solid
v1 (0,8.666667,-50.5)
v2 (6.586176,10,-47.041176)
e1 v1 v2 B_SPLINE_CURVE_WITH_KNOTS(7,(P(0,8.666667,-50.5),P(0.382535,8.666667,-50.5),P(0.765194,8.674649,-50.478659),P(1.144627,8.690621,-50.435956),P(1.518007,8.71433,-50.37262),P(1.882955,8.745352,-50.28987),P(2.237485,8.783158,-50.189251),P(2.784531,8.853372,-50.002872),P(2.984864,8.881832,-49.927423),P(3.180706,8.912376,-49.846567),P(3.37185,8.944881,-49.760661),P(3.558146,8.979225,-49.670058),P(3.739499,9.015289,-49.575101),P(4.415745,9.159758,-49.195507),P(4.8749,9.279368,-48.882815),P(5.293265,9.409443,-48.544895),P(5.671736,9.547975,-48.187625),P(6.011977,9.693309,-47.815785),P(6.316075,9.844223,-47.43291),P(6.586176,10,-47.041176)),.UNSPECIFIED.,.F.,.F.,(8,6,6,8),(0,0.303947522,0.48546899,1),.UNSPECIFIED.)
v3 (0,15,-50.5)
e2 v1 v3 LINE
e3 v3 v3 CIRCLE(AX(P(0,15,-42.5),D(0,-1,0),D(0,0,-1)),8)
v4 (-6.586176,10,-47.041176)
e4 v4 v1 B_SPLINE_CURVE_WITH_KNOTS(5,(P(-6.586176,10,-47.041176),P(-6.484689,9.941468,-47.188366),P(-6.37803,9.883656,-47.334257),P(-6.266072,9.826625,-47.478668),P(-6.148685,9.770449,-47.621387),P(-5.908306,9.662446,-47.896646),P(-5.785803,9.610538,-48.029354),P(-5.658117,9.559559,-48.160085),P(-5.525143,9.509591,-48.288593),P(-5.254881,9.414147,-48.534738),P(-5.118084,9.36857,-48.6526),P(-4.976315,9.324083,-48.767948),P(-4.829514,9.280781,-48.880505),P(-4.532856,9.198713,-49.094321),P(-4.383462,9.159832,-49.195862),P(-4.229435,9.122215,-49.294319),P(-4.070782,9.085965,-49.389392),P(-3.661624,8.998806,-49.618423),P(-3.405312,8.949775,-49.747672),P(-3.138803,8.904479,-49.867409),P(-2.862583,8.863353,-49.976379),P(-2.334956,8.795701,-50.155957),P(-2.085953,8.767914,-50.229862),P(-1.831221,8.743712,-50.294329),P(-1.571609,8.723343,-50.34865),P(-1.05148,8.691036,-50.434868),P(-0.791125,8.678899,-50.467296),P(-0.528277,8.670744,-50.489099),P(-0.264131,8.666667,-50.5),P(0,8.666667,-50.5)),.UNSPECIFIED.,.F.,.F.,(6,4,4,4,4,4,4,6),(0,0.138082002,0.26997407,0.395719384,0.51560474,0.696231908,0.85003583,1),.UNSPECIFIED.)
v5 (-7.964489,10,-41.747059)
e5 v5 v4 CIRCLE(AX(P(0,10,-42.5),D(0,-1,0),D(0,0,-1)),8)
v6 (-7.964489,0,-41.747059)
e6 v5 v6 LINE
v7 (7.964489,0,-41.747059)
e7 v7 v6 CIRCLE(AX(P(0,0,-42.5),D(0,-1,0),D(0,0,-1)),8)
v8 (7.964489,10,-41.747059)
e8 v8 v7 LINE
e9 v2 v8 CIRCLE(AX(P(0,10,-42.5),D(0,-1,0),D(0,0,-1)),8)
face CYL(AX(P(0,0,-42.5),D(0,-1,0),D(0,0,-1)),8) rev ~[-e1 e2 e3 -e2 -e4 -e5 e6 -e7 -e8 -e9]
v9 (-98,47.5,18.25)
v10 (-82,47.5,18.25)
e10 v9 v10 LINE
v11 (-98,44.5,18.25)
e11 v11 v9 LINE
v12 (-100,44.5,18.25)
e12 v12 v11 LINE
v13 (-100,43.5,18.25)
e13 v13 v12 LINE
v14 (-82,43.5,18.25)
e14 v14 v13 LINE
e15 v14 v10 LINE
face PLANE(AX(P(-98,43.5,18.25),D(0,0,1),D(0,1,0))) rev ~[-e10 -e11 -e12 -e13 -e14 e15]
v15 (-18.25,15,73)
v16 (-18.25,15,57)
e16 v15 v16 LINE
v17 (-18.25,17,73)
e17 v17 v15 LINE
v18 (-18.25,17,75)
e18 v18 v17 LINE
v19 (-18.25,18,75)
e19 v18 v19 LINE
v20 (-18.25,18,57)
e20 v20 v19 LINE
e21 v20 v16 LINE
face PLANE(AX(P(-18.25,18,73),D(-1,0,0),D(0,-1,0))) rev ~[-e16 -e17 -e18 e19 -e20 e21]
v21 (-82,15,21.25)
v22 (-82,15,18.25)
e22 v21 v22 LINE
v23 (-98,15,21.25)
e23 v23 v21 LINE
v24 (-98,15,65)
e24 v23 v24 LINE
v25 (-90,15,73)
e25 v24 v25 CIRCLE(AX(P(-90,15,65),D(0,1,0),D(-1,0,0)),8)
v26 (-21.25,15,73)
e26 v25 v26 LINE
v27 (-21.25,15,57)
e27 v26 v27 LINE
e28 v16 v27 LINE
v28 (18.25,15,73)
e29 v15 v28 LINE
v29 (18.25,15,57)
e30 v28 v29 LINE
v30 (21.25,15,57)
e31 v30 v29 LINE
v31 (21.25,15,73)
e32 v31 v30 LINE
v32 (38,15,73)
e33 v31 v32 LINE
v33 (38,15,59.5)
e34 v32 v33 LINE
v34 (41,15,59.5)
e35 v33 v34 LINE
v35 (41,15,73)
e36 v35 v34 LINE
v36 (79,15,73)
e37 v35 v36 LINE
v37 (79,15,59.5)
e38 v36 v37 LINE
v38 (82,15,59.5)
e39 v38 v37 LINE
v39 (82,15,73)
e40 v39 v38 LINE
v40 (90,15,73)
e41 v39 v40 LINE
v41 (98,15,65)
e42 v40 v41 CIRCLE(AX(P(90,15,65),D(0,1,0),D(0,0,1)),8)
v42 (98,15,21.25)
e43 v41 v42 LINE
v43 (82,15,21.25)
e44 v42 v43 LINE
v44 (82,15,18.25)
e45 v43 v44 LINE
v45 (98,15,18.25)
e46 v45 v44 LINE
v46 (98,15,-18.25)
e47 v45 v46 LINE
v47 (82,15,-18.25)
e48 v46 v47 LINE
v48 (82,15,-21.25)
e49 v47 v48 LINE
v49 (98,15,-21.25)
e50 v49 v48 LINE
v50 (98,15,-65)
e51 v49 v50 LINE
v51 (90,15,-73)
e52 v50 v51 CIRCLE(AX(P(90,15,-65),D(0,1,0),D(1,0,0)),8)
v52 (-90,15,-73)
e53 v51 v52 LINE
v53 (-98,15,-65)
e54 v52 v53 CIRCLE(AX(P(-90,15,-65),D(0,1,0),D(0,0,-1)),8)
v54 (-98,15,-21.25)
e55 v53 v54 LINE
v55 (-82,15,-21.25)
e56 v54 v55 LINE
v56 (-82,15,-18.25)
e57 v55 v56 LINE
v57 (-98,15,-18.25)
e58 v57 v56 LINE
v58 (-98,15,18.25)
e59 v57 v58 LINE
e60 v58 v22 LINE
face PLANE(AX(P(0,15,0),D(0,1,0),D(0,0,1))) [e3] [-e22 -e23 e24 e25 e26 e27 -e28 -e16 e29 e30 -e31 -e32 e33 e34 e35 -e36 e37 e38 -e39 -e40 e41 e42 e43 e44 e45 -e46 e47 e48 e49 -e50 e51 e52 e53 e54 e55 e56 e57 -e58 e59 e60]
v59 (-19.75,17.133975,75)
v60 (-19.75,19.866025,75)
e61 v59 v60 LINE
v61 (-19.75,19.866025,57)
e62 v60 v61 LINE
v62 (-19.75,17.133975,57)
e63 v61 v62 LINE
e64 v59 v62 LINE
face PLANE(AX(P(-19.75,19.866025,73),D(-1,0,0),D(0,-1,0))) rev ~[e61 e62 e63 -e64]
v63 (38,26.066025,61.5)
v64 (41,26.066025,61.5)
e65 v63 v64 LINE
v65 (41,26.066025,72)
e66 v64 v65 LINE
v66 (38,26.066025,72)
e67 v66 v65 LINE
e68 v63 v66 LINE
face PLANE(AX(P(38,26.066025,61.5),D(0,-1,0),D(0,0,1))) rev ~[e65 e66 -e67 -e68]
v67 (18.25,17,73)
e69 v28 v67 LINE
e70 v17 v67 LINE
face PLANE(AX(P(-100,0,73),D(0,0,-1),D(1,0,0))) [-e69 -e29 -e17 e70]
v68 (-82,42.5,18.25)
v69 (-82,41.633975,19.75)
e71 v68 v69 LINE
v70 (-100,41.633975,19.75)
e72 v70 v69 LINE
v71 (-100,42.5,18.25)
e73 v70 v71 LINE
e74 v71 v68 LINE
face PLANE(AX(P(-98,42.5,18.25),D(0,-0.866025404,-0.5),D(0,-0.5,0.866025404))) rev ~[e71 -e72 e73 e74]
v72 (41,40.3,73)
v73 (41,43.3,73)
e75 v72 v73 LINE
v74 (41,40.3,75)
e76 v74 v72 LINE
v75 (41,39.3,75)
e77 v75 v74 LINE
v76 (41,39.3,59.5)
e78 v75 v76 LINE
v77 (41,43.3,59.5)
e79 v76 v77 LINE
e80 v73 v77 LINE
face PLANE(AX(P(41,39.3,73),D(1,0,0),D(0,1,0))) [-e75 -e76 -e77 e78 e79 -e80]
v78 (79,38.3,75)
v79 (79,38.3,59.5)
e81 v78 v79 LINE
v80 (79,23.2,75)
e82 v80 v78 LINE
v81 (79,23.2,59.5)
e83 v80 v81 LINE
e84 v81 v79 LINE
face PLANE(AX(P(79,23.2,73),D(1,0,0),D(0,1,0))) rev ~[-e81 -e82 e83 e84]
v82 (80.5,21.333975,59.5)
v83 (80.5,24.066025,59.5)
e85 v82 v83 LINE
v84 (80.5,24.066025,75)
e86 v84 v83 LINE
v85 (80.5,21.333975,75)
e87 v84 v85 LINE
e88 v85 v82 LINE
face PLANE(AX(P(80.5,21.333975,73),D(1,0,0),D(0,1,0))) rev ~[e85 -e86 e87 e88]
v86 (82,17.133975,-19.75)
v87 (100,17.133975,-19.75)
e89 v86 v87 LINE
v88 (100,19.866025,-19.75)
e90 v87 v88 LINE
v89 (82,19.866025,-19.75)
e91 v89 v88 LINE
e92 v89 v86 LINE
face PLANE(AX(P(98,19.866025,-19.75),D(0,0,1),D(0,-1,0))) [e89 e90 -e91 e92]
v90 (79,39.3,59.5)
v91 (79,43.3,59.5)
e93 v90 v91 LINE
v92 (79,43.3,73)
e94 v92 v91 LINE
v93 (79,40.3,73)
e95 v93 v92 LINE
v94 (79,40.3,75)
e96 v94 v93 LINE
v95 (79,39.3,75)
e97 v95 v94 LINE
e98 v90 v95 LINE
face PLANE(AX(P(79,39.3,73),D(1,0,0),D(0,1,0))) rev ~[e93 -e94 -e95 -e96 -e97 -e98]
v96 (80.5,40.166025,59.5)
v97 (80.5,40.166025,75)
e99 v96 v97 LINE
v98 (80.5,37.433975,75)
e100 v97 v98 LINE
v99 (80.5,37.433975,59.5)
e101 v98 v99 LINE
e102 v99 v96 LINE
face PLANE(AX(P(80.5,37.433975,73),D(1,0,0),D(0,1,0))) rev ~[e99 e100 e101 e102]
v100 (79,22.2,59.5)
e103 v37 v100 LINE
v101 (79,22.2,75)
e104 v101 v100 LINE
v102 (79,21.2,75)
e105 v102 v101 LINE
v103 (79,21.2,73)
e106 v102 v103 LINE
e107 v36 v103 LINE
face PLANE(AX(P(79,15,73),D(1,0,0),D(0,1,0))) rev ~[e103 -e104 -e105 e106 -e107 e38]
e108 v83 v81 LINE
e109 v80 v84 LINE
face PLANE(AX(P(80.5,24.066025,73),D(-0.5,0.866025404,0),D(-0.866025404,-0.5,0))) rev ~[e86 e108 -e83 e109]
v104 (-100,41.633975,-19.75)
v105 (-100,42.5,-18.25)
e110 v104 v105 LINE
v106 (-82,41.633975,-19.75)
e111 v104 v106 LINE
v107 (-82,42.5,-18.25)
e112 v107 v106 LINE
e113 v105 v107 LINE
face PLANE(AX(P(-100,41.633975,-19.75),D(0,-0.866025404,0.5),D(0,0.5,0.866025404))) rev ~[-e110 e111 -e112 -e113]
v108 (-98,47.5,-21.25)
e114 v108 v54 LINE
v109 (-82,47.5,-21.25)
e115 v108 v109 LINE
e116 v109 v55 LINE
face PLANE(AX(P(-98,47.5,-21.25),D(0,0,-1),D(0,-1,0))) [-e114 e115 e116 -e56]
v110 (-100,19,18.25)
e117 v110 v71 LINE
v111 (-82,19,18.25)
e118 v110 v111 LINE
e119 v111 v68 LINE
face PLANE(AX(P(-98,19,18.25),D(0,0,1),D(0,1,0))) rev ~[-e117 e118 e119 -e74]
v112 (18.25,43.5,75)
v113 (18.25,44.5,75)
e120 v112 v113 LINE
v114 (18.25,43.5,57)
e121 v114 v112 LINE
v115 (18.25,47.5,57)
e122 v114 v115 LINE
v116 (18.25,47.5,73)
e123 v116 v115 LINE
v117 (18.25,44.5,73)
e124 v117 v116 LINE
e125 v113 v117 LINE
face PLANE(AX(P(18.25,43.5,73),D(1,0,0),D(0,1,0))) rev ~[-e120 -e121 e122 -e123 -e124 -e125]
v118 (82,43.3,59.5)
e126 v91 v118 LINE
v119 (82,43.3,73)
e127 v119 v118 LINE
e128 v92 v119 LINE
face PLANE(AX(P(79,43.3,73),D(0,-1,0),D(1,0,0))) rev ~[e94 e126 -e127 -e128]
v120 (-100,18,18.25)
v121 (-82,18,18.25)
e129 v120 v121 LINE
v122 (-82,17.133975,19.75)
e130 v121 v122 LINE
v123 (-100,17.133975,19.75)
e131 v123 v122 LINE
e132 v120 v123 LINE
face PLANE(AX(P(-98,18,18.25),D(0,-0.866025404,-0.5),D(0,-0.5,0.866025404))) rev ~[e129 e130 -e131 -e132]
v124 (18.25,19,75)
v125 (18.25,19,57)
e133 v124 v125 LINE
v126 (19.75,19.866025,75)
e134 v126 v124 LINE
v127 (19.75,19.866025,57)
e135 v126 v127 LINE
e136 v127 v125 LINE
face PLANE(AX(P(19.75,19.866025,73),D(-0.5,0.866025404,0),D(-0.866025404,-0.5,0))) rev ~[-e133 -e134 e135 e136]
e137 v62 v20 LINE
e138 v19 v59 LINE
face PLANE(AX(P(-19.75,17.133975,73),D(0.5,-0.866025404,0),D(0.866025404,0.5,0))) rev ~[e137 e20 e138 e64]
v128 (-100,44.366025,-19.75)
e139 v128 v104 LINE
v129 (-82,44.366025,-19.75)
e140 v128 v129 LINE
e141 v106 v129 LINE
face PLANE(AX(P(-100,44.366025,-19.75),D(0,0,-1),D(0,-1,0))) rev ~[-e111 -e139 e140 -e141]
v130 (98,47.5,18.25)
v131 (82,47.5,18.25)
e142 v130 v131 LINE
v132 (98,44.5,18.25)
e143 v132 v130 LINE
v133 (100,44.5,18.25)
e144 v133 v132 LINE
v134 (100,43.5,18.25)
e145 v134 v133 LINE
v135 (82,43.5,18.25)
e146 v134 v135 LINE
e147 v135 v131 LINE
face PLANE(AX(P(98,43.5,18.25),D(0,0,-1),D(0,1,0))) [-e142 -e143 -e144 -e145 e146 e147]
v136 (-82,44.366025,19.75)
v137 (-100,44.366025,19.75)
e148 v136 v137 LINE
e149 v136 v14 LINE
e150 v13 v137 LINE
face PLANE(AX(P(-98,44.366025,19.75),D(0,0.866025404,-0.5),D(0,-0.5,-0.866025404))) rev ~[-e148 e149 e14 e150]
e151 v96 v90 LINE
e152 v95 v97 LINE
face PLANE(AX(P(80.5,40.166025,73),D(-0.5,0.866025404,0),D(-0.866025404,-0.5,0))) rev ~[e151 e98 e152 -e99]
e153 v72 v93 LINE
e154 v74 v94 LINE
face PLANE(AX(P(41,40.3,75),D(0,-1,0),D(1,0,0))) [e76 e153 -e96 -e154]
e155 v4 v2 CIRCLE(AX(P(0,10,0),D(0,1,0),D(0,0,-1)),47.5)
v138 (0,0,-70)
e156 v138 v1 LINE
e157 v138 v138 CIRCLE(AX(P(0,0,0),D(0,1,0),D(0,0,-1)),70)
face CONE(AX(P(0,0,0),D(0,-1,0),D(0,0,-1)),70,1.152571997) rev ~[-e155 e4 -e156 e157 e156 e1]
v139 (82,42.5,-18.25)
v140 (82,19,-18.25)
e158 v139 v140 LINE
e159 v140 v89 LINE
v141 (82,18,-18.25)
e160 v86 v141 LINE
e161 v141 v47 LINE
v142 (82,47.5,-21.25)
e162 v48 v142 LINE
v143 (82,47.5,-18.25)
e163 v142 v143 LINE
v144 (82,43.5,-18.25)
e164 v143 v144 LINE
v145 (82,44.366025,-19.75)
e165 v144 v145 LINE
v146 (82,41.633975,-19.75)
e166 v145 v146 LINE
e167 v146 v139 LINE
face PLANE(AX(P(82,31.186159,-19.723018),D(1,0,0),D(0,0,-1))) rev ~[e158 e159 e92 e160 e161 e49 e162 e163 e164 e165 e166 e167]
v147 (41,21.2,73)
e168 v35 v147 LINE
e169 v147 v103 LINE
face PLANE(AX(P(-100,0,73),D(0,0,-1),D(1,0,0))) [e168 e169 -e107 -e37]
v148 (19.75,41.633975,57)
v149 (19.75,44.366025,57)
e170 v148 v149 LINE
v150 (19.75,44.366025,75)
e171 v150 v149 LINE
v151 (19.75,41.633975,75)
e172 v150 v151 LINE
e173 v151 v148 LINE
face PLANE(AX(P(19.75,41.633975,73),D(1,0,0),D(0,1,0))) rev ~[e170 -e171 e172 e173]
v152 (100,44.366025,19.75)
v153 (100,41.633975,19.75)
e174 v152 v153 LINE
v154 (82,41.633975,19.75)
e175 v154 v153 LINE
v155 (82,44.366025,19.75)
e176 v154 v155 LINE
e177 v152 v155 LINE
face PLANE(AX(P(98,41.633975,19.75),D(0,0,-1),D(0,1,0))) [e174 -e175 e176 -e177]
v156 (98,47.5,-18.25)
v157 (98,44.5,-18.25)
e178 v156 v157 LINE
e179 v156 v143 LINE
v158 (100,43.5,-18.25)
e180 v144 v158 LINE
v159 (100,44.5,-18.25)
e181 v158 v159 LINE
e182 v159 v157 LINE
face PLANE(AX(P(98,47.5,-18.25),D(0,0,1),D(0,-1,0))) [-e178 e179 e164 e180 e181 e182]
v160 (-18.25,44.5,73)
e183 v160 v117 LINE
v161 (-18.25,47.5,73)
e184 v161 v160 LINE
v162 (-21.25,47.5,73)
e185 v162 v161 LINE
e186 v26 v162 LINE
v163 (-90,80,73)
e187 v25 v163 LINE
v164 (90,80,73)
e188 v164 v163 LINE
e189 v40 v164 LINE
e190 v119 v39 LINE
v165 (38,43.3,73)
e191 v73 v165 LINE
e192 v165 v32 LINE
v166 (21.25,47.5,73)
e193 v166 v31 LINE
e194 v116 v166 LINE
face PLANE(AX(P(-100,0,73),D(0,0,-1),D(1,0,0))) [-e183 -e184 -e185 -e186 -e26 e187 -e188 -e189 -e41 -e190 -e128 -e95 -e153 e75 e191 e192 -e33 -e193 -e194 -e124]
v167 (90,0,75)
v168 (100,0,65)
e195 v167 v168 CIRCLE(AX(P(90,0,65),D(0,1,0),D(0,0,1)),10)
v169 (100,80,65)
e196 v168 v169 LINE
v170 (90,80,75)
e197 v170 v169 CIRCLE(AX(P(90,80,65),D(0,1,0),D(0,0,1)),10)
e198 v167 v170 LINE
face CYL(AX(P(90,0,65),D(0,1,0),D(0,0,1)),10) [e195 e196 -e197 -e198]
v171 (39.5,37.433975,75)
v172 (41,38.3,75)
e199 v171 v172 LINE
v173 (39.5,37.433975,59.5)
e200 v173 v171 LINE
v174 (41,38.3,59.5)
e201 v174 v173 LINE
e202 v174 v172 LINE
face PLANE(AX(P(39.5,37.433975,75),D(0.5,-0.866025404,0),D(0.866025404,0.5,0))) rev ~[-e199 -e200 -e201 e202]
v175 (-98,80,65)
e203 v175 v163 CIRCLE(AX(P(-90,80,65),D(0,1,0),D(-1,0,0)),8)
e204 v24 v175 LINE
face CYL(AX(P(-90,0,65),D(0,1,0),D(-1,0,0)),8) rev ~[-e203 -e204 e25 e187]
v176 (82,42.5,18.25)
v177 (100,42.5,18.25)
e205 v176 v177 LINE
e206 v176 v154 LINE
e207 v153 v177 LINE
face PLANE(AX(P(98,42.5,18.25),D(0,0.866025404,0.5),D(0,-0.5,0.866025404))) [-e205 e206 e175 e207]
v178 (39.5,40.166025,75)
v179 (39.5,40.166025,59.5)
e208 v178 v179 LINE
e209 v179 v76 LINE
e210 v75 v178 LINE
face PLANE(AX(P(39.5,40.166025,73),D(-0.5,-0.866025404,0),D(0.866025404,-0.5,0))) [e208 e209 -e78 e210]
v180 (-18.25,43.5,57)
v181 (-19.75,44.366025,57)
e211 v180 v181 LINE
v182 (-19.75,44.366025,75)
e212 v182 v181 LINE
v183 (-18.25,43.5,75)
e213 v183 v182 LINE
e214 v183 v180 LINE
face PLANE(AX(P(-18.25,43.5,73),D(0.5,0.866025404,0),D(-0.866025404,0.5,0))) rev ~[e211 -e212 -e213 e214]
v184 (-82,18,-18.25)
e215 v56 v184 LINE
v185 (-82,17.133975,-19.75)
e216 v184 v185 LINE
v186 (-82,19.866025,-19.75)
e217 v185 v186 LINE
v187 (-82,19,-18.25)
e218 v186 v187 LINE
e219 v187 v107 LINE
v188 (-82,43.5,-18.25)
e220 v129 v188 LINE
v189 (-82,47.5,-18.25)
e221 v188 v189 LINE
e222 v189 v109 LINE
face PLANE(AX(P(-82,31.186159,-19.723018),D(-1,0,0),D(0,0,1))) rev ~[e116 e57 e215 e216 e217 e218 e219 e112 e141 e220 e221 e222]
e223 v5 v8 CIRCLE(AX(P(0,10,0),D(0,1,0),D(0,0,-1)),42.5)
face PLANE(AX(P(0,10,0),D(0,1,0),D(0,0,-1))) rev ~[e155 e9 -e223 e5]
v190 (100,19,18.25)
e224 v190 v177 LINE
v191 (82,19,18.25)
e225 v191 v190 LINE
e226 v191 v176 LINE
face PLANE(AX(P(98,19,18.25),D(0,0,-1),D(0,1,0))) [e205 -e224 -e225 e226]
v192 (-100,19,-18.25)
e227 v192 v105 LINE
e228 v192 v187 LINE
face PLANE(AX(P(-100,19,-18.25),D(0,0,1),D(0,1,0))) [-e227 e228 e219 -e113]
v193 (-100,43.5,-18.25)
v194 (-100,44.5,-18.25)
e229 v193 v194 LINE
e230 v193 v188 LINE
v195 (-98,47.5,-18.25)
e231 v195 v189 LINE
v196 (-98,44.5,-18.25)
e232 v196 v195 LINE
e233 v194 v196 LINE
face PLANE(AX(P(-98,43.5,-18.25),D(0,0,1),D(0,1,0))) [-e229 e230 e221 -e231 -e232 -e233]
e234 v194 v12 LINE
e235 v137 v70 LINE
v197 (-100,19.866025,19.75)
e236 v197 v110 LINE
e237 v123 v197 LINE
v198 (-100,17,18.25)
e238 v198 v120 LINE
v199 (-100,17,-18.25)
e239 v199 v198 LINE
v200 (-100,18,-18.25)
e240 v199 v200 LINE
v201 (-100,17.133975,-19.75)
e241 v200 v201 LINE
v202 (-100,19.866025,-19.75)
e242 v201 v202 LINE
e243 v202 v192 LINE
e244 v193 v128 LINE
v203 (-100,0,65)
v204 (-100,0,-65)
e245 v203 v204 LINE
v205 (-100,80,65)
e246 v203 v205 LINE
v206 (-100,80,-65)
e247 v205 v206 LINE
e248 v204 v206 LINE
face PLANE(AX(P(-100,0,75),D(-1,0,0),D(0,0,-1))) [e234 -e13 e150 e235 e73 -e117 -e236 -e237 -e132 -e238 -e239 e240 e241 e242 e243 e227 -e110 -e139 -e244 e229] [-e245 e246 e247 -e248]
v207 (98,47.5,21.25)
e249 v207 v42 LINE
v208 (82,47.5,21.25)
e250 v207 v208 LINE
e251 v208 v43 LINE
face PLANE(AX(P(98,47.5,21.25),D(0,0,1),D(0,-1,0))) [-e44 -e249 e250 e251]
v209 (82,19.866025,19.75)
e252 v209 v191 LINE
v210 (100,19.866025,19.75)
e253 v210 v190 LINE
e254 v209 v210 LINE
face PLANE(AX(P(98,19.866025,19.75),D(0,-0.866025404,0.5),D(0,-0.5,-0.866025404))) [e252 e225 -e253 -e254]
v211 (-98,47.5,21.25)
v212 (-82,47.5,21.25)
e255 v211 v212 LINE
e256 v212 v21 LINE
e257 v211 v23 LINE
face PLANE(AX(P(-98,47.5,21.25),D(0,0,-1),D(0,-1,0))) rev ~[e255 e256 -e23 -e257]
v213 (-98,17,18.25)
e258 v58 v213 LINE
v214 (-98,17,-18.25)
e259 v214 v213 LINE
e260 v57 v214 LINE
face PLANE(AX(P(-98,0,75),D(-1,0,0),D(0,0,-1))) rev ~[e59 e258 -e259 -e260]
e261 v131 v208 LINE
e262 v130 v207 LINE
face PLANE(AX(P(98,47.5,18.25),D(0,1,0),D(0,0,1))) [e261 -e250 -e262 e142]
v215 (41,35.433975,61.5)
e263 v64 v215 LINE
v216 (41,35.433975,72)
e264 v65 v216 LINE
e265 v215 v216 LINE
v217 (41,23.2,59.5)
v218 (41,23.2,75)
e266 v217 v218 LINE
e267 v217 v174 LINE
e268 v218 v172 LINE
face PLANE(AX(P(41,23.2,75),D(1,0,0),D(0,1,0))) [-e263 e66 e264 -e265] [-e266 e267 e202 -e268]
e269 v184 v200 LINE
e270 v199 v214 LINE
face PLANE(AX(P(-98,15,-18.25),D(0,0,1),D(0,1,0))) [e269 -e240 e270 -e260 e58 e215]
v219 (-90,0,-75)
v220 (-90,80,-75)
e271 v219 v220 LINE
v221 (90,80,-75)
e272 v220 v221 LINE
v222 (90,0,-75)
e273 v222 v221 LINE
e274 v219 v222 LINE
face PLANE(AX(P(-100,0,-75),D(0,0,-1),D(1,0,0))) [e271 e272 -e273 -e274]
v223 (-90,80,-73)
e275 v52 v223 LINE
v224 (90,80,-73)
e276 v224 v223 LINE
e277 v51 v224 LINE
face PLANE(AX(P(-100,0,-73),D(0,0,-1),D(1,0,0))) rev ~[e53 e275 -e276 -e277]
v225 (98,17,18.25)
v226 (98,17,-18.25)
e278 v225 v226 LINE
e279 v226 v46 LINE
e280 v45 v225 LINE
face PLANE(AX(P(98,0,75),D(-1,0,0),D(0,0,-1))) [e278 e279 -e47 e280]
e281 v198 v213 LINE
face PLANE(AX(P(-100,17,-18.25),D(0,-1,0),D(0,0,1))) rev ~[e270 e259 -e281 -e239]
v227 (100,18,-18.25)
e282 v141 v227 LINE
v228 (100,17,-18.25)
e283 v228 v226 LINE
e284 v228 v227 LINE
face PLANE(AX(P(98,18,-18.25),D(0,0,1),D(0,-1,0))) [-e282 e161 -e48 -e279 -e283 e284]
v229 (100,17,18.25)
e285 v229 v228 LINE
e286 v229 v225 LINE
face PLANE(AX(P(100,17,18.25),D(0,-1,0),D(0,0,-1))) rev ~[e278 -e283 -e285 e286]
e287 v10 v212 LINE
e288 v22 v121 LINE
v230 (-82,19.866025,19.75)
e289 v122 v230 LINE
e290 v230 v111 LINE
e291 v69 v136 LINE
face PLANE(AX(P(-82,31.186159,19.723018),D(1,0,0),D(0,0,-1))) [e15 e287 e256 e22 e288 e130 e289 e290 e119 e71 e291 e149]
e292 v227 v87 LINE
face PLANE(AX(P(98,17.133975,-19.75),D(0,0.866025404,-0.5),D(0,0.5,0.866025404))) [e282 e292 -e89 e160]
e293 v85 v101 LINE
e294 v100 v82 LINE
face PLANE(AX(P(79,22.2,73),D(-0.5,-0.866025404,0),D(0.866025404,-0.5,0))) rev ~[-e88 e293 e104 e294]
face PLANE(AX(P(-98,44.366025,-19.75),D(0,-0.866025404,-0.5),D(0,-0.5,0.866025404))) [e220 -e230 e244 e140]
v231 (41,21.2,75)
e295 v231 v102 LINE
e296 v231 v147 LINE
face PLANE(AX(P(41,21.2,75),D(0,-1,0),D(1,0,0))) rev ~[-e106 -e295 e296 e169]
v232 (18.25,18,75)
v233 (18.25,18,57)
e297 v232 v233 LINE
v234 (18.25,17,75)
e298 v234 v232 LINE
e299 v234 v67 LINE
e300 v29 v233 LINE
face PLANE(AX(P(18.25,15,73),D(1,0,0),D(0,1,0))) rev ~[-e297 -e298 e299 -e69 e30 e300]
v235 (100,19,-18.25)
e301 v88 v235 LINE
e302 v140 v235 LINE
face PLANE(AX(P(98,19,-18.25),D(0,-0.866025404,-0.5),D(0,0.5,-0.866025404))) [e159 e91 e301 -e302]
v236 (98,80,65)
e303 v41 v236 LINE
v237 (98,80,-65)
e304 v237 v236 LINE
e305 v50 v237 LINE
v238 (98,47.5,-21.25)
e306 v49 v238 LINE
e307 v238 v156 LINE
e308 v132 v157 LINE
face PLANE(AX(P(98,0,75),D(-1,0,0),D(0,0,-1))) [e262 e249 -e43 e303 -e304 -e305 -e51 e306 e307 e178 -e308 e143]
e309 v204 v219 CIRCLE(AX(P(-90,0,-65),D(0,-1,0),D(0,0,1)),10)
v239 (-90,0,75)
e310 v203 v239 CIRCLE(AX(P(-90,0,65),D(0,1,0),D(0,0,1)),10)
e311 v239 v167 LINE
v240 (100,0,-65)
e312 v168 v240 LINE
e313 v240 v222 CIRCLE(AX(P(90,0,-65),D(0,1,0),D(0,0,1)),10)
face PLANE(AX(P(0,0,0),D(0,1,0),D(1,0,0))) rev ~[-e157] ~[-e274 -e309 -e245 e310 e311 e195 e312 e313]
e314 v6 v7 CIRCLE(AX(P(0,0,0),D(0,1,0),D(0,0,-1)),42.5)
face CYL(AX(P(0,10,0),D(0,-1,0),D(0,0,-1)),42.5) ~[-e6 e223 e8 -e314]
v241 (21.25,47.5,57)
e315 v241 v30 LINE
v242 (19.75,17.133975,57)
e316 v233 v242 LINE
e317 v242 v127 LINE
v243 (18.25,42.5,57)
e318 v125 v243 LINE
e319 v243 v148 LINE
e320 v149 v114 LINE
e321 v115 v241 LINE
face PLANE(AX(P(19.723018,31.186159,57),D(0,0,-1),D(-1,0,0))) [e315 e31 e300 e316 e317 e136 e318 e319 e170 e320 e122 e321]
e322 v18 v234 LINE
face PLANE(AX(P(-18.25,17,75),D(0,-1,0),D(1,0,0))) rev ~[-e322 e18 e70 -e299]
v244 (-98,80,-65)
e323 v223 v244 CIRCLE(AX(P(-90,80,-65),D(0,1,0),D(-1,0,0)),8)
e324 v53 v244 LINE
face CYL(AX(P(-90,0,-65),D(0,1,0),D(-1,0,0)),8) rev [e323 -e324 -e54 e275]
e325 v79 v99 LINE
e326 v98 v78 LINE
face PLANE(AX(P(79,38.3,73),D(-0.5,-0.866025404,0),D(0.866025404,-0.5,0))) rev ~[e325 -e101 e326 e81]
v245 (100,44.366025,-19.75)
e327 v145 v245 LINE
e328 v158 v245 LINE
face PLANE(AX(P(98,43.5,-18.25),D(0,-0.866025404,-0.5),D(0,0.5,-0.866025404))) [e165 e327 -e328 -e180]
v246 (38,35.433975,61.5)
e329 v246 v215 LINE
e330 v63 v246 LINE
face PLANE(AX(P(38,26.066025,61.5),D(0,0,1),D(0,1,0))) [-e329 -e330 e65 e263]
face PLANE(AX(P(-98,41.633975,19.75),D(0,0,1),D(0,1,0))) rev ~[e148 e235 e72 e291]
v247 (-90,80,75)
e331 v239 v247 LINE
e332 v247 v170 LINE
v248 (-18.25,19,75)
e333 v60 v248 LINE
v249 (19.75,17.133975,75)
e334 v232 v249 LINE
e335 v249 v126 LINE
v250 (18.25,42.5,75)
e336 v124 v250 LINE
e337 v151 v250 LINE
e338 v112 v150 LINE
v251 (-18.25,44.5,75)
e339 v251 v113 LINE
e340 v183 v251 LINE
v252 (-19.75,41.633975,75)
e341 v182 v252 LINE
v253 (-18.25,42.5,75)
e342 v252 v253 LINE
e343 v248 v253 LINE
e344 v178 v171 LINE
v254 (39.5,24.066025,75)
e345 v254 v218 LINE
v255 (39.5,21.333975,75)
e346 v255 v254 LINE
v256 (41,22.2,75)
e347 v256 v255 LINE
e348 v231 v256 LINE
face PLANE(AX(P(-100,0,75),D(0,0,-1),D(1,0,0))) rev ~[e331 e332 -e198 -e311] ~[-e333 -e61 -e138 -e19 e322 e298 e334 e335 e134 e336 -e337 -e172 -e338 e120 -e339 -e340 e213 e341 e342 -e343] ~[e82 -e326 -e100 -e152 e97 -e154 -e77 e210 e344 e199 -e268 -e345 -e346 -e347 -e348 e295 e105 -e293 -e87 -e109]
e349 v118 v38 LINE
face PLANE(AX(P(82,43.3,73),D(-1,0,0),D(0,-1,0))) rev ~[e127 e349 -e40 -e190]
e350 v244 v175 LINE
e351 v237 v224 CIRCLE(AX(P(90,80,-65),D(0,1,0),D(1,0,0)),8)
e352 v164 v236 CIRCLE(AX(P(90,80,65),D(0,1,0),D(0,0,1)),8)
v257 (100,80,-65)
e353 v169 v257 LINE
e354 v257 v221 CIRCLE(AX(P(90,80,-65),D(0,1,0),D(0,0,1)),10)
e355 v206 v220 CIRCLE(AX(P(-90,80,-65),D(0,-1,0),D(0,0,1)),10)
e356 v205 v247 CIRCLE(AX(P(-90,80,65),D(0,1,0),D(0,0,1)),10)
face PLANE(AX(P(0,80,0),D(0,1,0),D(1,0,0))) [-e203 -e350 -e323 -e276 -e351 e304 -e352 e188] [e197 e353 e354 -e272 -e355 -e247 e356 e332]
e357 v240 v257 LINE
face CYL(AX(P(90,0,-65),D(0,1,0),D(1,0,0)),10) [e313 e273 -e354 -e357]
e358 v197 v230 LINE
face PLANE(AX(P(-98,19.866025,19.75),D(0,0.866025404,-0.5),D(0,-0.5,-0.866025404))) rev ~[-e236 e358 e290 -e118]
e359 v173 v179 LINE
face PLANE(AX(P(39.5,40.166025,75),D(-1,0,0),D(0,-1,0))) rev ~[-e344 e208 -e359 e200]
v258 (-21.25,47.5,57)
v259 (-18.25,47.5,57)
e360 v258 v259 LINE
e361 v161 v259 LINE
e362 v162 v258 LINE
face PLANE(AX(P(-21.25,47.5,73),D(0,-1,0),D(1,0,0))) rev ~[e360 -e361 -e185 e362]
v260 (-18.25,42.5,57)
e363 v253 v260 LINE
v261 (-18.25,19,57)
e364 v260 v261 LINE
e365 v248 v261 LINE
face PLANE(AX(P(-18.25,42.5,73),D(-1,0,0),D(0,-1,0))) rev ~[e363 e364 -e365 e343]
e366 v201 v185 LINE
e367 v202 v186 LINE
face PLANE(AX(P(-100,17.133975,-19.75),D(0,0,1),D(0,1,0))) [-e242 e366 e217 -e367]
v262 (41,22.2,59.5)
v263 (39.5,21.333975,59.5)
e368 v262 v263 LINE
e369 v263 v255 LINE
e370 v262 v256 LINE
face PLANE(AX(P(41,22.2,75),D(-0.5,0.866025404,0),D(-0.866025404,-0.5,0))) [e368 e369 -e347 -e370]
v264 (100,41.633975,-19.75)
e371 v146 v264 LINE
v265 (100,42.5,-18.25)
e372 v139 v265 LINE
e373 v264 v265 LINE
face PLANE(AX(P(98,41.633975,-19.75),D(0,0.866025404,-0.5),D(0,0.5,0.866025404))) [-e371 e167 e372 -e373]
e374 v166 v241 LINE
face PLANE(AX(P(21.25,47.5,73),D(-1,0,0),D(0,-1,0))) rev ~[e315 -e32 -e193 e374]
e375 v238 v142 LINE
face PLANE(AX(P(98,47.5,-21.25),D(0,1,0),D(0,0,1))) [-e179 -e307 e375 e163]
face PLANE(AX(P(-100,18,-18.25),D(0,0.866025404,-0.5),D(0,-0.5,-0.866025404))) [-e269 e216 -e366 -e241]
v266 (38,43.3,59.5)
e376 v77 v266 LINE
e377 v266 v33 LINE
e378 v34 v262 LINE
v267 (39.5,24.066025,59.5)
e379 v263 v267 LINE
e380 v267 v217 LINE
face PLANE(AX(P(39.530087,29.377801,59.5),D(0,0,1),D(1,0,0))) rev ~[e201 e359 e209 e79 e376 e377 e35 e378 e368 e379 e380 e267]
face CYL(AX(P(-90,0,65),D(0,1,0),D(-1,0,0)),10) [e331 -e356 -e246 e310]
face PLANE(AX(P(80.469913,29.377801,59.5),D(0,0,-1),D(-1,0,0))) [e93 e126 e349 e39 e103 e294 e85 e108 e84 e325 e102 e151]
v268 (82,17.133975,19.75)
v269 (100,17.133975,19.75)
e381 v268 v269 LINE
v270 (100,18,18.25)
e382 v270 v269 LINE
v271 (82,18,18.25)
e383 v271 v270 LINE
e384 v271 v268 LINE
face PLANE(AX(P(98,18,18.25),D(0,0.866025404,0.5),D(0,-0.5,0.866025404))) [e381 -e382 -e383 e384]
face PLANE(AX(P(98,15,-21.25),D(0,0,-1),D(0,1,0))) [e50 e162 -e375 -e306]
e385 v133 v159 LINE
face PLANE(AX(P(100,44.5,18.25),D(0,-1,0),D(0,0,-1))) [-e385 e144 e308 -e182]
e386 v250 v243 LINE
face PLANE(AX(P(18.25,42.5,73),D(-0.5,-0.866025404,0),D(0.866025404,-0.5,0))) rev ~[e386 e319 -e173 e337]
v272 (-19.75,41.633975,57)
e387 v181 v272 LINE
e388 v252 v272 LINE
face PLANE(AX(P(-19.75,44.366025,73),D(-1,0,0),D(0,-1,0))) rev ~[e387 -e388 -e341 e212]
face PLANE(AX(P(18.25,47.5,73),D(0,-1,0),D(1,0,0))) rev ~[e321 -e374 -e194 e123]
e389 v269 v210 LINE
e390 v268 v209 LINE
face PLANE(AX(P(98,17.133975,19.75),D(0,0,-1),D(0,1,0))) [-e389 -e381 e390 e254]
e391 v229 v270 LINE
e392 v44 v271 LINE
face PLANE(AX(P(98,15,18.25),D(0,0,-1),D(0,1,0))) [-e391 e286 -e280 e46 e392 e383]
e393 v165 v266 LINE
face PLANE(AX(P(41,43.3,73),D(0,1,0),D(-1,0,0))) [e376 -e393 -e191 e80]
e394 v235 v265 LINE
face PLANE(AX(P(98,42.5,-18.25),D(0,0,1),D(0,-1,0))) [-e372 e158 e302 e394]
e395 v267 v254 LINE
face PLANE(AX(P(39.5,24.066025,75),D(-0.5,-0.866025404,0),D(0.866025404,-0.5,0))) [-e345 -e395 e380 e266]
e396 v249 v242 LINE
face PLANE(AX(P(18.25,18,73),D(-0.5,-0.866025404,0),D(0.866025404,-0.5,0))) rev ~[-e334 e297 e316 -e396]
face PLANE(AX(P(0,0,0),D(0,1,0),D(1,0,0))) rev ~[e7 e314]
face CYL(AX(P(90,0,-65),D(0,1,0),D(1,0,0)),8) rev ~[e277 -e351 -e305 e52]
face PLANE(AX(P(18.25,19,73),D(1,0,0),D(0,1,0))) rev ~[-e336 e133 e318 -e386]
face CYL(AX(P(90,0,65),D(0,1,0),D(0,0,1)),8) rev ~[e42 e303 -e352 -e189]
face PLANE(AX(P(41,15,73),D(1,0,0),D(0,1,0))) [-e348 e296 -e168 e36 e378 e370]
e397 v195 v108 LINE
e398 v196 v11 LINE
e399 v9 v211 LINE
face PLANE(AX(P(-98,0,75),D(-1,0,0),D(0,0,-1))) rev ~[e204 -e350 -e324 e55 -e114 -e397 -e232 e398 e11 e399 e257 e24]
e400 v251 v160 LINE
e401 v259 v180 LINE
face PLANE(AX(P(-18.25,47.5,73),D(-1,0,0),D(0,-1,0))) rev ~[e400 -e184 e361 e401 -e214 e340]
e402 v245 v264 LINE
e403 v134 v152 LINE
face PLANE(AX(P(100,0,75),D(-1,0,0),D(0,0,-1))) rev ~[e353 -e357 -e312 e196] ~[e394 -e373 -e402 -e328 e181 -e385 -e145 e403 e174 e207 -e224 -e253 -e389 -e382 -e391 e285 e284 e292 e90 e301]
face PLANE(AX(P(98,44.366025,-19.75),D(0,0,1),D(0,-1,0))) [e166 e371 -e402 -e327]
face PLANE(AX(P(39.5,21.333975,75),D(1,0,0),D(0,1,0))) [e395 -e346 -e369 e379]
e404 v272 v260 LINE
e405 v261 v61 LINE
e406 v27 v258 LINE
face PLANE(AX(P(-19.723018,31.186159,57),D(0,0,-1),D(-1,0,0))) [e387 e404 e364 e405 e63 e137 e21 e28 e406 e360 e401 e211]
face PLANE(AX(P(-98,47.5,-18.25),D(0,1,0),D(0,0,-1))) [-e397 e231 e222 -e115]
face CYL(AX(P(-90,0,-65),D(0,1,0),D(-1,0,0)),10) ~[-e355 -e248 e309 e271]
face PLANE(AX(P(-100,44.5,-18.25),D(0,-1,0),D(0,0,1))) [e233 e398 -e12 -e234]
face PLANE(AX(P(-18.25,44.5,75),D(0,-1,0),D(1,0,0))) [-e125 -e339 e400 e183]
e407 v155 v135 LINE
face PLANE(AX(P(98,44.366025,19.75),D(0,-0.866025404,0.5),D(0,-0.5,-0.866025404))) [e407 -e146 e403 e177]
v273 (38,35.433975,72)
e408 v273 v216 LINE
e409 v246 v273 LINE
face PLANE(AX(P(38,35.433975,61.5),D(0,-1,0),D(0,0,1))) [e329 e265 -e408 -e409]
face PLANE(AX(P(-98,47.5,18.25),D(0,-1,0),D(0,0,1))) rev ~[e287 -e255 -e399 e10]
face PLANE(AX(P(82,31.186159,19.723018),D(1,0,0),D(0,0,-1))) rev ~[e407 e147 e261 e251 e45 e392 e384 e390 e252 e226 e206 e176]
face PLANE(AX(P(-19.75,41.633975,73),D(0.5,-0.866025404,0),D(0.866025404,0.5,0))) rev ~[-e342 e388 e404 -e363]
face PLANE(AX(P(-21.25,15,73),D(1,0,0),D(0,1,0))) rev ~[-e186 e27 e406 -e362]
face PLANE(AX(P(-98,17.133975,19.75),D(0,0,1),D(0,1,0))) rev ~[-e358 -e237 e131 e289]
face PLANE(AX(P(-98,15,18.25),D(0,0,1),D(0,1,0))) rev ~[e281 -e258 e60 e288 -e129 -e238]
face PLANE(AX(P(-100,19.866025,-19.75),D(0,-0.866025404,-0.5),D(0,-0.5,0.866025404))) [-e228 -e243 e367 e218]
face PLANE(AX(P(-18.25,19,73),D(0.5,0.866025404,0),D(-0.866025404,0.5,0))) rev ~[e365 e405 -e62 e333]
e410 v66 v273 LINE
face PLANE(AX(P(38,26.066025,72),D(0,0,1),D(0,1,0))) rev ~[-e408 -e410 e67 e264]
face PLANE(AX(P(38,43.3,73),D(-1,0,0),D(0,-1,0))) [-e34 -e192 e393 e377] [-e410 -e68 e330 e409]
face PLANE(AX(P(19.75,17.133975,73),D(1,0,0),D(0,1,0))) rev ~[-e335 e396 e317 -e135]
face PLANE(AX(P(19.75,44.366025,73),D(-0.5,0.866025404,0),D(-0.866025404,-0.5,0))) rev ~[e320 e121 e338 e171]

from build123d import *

# Parameters (mm, degrees)
SKETCH2_W                = 200
SKETCH2_H                = 150
BOSS_EXTRUDE1_DEPTH      = 80
FILLET1_R                = 10
SHELL1_T                 = -2
SHELL1_THICKNESS_2_DEPTH = 13
SKETCH5_W                = 36.5
SKETCH5_H                = 27.5
CUT_EXTRUDE1_DEPTH       = 2
BOSS_EXTRUDE2_DEPTH      = 16
SKETCH7_W                = 36.5
SKETCH7_H                = 27.5
CUT_EXTRUDE2_DEPTH       = 2
BOSS_EXTRUDE3_DEPTH      = 16
SKETCH10_W               = 36.5
SKETCH10_H               = 27.5
CUT_EXTRUDE4_DEPTH       = 2
BOSS_EXTRUDE4_DEPTH      = 16
SKETCH13_W               = 38
SKETCH13_H               = 19.1
CUT_EXTRUDE5_DEPTH       = 2
BOSS_EXTRUDE5_DEPTH      = 13.5
SKETCH15_W               = 10.5
SKETCH15_H               = 9.367949192
CUT_EXTRUDE6_DEPTH       = 3
CUT_EXTRUDE8_REACH       = 150.408
SKETCH20_R               = 8


with BuildPart() as part:
    # Sketch2 → Boss-Extrude1 (new body)
    with BuildSketch(Plane(origin=(0, 0, 0), x_dir=(1, 0, 0), z_dir=(0, 1, 0))):
        Rectangle(SKETCH2_W, SKETCH2_H)
    extrude(amount=BOSS_EXTRUDE1_DEPTH)

    # Fillet1
    fillet1_edges = [part.edges().sort_by_distance(p)[0] for p in [
        (100, 40, 75),
        (-100, 40, 75),
        (-100, 40, -75),
        (100, 40, -75),
    ]]
    fillet(fillet1_edges, radius=FILLET1_R)

    # Shell1
    shell1_openings = [part.faces().sort_by_distance(p)[0] for p in [
        (0, 80, 0),
    ]]
    offset(amount=SHELL1_T, openings=shell1_openings, kind=Kind.INTERSECTION)

    # Shell1 thickness 2 face (on inner face of the shell) → Shell1 thickness 2 (add)
    with BuildSketch(Plane(origin=(0, 2, 0), x_dir=(0, 0, -1), z_dir=(0, -1, 0))):
        with BuildLine():
            ThreePointArc((73, -90), (70.656854249, -95.656854249), (65, -98))
            Line((65, -98), (-65, -98))
            ThreePointArc((-65, -98), (-70.656854249, -95.656854249), (-73, -90))
            Line((-73, -90), (-73, 90))
            ThreePointArc((-73, 90), (-70.656854249, 95.656854249), (-65, 98))
            Line((-65, 98), (65, 98))
            ThreePointArc((65, 98), (70.656854249, 95.656854249), (73, 90))
            Line((73, 90), (73, -90))
        make_face()
    extrude(amount=-SHELL1_THICKNESS_2_DEPTH)

    # Sketch5 → Cut-Extrude1 (cut)
    with BuildSketch(Plane.XY.offset(75)):
        with Locations((0, 30.75)):
            Rectangle(SKETCH5_W, SKETCH5_H)
        Polygon((-18.25, 43.5), (-19.75, 44.366025404), (-19.75, 41.633974596), (-18.25, 42.5), align=None)
        Polygon((-19.75, 19.866025404), (-18.25, 19), (-18.25, 18), (-19.75, 17.133974596), align=None)
        Polygon((19.75, 17.133974596), (19.75, 19.866025404), (18.25, 19), (18.25, 18), align=None)
        Polygon((19.75, 41.633974596), (18.25, 42.5), (18.25, 43.5), (19.75, 44.366025404), align=None)
    extrude(amount=-CUT_EXTRUDE1_DEPTH, mode=Mode.SUBTRACT)

    # Sketch6 → Boss-Extrude2 (add)
    with BuildSketch(Plane(origin=(0, 0, 73), x_dir=(-1, 0, 0), z_dir=(0, 0, -1))):
        Polygon((18.25, 15), (21.25, 15), (21.25, 47.5), (18.25, 47.5), (18.25, 43.5), (19.75, 44.366025404), (19.75, 41.633974596), (18.25, 42.5), (18.25, 19), (19.75, 19.866025404), (19.75, 17.133974596), (18.25, 18), align=None)
        Polygon((-21.25, 47.5), (-21.25, 15), (-18.25, 15), (-18.25, 18), (-19.75, 17.133974596), (-19.75, 19.866025404), (-18.25, 19), (-18.25, 42.5), (-19.75, 41.633974596), (-19.75, 44.366025404), (-18.25, 43.5), (-18.25, 47.5), align=None)
    extrude(amount=BOSS_EXTRUDE2_DEPTH)

    # Sketch7 → Cut-Extrude2 (cut)
    with BuildSketch(Plane(origin=(100, 0, 0), x_dir=(0, 0, -1), z_dir=(1, 0, 0))):
        with Locations((0, 30.75)):
            Rectangle(SKETCH7_W, SKETCH7_H)
        Polygon((-18.25, 43.5), (-19.75, 44.366025404), (-19.75, 41.633974596), (-18.25, 42.5), align=None)
        Polygon((-19.75, 19.866025404), (-18.25, 19), (-18.25, 18), (-19.75, 17.133974596), align=None)
        Polygon((19.75, 17.133974596), (19.75, 19.866025404), (18.25, 19), (18.25, 18), align=None)
        Polygon((19.75, 41.633974596), (18.25, 42.5), (18.25, 43.5), (19.75, 44.366025404), align=None)
    extrude(amount=-CUT_EXTRUDE2_DEPTH, mode=Mode.SUBTRACT)

    # Sketch8 → Boss-Extrude3 (add)
    with BuildSketch(Plane.ZY.offset(-98)):
        Polygon((-21.25, 47.5), (-18.25, 47.5), (-18.25, 43.5), (-19.75, 44.366025404), (-19.75, 41.633974596), (-18.25, 42.5), (-18.25, 19), (-19.75, 19.866025404), (-19.75, 17.133974596), (-18.25, 18), (-18.25, 15), (-21.25, 15), align=None)
        Polygon((19.75, 44.366025404), (18.25, 43.5), (18.25, 47.5), (21.25, 47.5), (21.25, 15), (18.25, 15), (18.25, 18), (19.75, 17.133974596), (19.75, 19.866025404), (18.25, 19), (18.25, 42.5), (19.75, 41.633974596), align=None)
    extrude(amount=BOSS_EXTRUDE3_DEPTH)

    # Sketch10 → Cut-Extrude4 (cut)
    with BuildSketch(Plane.ZY.offset(100)):
        with Locations((0, 30.75)):
            Rectangle(SKETCH10_W, SKETCH10_H)
        Polygon((-18.25, 43.5), (-19.75, 44.366025404), (-19.75, 41.633974596), (-18.25, 42.5), align=None)
        Polygon((-19.75, 19.866025404), (-18.25, 19), (-18.25, 18), (-19.75, 17.133974596), align=None)
        Polygon((19.75, 17.133974596), (19.75, 19.866025404), (18.25, 19), (18.25, 18), align=None)
        Polygon((19.75, 41.633974596), (18.25, 42.5), (18.25, 43.5), (19.75, 44.366025404), align=None)
    extrude(amount=-CUT_EXTRUDE4_DEPTH, mode=Mode.SUBTRACT)

    # Sketch11 → Boss-Extrude4 (add)
    with BuildSketch(Plane(origin=(-98, 0, 0), x_dir=(0, 0, -1), z_dir=(1, 0, 0))):
        Polygon((-18.25, 47.5), (-21.25, 47.5), (-21.25, 15), (-18.25, 15), (-18.25, 18), (-19.75, 17.133974596), (-19.75, 19.866025404), (-18.25, 19), (-18.25, 42.5), (-19.75, 41.633974596), (-19.75, 44.366025404), (-18.25, 43.5), align=None)
        Polygon((19.75, 44.366025404), (18.25, 43.5), (18.25, 47.5), (21.25, 47.5), (21.25, 15), (18.25, 15), (18.25, 18), (19.75, 17.133974596), (19.75, 19.866025404), (18.25, 19), (18.25, 42.5), (19.75, 41.633974596), align=None)
    extrude(amount=BOSS_EXTRUDE4_DEPTH)

    # Sketch13 → Cut-Extrude5 (cut)
    with BuildSketch(Plane.XY.offset(75)):
        Polygon((41, 39.3), (39.5, 40.166025404), (39.5, 37.433974596), (41, 38.3), align=None)
        with Locations((60, 30.75)):
            Rectangle(SKETCH13_W, SKETCH13_H)
        Polygon((41, 22.2), (39.5, 21.333974596), (39.5, 24.066025404), (41, 23.2), align=None)
        Polygon((79, 22.2), (79, 23.2), (80.5, 24.066025404), (80.5, 21.333974596), align=None)
        Polygon((79, 39.3), (80.5, 40.166025404), (80.5, 37.433974596), (79, 38.3), align=None)
    extrude(amount=-CUT_EXTRUDE5_DEPTH, mode=Mode.SUBTRACT)

    # Sketch14 → Boss-Extrude5 (add)
    with BuildSketch(Plane(origin=(0, 0, 73), x_dir=(-1, 0, 0), z_dir=(0, 0, -1))):
        Polygon((-79, 43.3), (-82, 43.3), (-82, 15), (-79, 15), (-79, 22.2), (-80.5, 21.333974596), (-80.5, 24.066025404), (-79, 23.2), (-79, 38.3), (-80.5, 37.433974596), (-80.5, 40.166025404), (-79, 39.3), align=None)
        Polygon((-39.5, 40.166025404), (-41, 39.3), (-41, 43.3), (-38, 43.3), (-38, 15), (-41, 15), (-41, 22.2), (-39.5, 21.333974596), (-39.5, 24.066025404), (-41, 23.2), (-41, 38.3), (-39.5, 37.433974596), align=None)
    extrude(amount=BOSS_EXTRUDE5_DEPTH)

    # Sketch15 → Cut-Extrude6 (cut)
    with BuildSketch(Plane.ZY.offset(-38)):
        with Locations((66.75, 30.75)):
            Rectangle(SKETCH15_W, SKETCH15_H)
    extrude(amount=-CUT_EXTRUDE6_DEPTH, mode=Mode.SUBTRACT)

    # Sketch18 → Cut-Revolve1 (revolve, cut)
    with BuildSketch(Plane(origin=(0, 0, 0), x_dir=(0, 0, -1), z_dir=(1, 0, 0)), mode=Mode.PRIVATE) as cut_revolve1_sk:
        Polygon((-42.5, 0), (-70, 0), (-47.5, 10), (-42.5, 10), align=None)
    revolve(cut_revolve1_sk.sketch.rotate(Axis((0, 0, 0), (0, 1, 0)), 180), axis=Axis((0, 0, 0), (0, 1, 0)), mode=Mode.SUBTRACT)

    # Cut-Extrude8: up to this face of the body (flat: up to its plane)
    cut_extrude8_end = Plane(part.part.faces().sort_by_distance((-0.172388952, 15, -0.411685035))[0])
    # Sketch20 → Cut-Extrude8 (cut, up to the picked face)
    with BuildSketch(Plane.XZ, mode=Mode.PRIVATE) as cut_extrude8_sk1:
        with Locations(Location((0, -42.5, 0), (0, 0, 270))):
            Circle(SKETCH20_R)
    cut_extrude8_tool1 = split(extrude(cut_extrude8_sk1.sketch, amount=-CUT_EXTRUDE8_REACH, mode=Mode.PRIVATE), bisect_by=cut_extrude8_end, keep=Keep.BOTH, mode=Mode.PRIVATE)
    add(cut_extrude8_tool1.solids().sort_by(Axis((0, 0, -42.5), (0, 1, 0)))[0], mode=Mode.SUBTRACT)


solid = part.part
